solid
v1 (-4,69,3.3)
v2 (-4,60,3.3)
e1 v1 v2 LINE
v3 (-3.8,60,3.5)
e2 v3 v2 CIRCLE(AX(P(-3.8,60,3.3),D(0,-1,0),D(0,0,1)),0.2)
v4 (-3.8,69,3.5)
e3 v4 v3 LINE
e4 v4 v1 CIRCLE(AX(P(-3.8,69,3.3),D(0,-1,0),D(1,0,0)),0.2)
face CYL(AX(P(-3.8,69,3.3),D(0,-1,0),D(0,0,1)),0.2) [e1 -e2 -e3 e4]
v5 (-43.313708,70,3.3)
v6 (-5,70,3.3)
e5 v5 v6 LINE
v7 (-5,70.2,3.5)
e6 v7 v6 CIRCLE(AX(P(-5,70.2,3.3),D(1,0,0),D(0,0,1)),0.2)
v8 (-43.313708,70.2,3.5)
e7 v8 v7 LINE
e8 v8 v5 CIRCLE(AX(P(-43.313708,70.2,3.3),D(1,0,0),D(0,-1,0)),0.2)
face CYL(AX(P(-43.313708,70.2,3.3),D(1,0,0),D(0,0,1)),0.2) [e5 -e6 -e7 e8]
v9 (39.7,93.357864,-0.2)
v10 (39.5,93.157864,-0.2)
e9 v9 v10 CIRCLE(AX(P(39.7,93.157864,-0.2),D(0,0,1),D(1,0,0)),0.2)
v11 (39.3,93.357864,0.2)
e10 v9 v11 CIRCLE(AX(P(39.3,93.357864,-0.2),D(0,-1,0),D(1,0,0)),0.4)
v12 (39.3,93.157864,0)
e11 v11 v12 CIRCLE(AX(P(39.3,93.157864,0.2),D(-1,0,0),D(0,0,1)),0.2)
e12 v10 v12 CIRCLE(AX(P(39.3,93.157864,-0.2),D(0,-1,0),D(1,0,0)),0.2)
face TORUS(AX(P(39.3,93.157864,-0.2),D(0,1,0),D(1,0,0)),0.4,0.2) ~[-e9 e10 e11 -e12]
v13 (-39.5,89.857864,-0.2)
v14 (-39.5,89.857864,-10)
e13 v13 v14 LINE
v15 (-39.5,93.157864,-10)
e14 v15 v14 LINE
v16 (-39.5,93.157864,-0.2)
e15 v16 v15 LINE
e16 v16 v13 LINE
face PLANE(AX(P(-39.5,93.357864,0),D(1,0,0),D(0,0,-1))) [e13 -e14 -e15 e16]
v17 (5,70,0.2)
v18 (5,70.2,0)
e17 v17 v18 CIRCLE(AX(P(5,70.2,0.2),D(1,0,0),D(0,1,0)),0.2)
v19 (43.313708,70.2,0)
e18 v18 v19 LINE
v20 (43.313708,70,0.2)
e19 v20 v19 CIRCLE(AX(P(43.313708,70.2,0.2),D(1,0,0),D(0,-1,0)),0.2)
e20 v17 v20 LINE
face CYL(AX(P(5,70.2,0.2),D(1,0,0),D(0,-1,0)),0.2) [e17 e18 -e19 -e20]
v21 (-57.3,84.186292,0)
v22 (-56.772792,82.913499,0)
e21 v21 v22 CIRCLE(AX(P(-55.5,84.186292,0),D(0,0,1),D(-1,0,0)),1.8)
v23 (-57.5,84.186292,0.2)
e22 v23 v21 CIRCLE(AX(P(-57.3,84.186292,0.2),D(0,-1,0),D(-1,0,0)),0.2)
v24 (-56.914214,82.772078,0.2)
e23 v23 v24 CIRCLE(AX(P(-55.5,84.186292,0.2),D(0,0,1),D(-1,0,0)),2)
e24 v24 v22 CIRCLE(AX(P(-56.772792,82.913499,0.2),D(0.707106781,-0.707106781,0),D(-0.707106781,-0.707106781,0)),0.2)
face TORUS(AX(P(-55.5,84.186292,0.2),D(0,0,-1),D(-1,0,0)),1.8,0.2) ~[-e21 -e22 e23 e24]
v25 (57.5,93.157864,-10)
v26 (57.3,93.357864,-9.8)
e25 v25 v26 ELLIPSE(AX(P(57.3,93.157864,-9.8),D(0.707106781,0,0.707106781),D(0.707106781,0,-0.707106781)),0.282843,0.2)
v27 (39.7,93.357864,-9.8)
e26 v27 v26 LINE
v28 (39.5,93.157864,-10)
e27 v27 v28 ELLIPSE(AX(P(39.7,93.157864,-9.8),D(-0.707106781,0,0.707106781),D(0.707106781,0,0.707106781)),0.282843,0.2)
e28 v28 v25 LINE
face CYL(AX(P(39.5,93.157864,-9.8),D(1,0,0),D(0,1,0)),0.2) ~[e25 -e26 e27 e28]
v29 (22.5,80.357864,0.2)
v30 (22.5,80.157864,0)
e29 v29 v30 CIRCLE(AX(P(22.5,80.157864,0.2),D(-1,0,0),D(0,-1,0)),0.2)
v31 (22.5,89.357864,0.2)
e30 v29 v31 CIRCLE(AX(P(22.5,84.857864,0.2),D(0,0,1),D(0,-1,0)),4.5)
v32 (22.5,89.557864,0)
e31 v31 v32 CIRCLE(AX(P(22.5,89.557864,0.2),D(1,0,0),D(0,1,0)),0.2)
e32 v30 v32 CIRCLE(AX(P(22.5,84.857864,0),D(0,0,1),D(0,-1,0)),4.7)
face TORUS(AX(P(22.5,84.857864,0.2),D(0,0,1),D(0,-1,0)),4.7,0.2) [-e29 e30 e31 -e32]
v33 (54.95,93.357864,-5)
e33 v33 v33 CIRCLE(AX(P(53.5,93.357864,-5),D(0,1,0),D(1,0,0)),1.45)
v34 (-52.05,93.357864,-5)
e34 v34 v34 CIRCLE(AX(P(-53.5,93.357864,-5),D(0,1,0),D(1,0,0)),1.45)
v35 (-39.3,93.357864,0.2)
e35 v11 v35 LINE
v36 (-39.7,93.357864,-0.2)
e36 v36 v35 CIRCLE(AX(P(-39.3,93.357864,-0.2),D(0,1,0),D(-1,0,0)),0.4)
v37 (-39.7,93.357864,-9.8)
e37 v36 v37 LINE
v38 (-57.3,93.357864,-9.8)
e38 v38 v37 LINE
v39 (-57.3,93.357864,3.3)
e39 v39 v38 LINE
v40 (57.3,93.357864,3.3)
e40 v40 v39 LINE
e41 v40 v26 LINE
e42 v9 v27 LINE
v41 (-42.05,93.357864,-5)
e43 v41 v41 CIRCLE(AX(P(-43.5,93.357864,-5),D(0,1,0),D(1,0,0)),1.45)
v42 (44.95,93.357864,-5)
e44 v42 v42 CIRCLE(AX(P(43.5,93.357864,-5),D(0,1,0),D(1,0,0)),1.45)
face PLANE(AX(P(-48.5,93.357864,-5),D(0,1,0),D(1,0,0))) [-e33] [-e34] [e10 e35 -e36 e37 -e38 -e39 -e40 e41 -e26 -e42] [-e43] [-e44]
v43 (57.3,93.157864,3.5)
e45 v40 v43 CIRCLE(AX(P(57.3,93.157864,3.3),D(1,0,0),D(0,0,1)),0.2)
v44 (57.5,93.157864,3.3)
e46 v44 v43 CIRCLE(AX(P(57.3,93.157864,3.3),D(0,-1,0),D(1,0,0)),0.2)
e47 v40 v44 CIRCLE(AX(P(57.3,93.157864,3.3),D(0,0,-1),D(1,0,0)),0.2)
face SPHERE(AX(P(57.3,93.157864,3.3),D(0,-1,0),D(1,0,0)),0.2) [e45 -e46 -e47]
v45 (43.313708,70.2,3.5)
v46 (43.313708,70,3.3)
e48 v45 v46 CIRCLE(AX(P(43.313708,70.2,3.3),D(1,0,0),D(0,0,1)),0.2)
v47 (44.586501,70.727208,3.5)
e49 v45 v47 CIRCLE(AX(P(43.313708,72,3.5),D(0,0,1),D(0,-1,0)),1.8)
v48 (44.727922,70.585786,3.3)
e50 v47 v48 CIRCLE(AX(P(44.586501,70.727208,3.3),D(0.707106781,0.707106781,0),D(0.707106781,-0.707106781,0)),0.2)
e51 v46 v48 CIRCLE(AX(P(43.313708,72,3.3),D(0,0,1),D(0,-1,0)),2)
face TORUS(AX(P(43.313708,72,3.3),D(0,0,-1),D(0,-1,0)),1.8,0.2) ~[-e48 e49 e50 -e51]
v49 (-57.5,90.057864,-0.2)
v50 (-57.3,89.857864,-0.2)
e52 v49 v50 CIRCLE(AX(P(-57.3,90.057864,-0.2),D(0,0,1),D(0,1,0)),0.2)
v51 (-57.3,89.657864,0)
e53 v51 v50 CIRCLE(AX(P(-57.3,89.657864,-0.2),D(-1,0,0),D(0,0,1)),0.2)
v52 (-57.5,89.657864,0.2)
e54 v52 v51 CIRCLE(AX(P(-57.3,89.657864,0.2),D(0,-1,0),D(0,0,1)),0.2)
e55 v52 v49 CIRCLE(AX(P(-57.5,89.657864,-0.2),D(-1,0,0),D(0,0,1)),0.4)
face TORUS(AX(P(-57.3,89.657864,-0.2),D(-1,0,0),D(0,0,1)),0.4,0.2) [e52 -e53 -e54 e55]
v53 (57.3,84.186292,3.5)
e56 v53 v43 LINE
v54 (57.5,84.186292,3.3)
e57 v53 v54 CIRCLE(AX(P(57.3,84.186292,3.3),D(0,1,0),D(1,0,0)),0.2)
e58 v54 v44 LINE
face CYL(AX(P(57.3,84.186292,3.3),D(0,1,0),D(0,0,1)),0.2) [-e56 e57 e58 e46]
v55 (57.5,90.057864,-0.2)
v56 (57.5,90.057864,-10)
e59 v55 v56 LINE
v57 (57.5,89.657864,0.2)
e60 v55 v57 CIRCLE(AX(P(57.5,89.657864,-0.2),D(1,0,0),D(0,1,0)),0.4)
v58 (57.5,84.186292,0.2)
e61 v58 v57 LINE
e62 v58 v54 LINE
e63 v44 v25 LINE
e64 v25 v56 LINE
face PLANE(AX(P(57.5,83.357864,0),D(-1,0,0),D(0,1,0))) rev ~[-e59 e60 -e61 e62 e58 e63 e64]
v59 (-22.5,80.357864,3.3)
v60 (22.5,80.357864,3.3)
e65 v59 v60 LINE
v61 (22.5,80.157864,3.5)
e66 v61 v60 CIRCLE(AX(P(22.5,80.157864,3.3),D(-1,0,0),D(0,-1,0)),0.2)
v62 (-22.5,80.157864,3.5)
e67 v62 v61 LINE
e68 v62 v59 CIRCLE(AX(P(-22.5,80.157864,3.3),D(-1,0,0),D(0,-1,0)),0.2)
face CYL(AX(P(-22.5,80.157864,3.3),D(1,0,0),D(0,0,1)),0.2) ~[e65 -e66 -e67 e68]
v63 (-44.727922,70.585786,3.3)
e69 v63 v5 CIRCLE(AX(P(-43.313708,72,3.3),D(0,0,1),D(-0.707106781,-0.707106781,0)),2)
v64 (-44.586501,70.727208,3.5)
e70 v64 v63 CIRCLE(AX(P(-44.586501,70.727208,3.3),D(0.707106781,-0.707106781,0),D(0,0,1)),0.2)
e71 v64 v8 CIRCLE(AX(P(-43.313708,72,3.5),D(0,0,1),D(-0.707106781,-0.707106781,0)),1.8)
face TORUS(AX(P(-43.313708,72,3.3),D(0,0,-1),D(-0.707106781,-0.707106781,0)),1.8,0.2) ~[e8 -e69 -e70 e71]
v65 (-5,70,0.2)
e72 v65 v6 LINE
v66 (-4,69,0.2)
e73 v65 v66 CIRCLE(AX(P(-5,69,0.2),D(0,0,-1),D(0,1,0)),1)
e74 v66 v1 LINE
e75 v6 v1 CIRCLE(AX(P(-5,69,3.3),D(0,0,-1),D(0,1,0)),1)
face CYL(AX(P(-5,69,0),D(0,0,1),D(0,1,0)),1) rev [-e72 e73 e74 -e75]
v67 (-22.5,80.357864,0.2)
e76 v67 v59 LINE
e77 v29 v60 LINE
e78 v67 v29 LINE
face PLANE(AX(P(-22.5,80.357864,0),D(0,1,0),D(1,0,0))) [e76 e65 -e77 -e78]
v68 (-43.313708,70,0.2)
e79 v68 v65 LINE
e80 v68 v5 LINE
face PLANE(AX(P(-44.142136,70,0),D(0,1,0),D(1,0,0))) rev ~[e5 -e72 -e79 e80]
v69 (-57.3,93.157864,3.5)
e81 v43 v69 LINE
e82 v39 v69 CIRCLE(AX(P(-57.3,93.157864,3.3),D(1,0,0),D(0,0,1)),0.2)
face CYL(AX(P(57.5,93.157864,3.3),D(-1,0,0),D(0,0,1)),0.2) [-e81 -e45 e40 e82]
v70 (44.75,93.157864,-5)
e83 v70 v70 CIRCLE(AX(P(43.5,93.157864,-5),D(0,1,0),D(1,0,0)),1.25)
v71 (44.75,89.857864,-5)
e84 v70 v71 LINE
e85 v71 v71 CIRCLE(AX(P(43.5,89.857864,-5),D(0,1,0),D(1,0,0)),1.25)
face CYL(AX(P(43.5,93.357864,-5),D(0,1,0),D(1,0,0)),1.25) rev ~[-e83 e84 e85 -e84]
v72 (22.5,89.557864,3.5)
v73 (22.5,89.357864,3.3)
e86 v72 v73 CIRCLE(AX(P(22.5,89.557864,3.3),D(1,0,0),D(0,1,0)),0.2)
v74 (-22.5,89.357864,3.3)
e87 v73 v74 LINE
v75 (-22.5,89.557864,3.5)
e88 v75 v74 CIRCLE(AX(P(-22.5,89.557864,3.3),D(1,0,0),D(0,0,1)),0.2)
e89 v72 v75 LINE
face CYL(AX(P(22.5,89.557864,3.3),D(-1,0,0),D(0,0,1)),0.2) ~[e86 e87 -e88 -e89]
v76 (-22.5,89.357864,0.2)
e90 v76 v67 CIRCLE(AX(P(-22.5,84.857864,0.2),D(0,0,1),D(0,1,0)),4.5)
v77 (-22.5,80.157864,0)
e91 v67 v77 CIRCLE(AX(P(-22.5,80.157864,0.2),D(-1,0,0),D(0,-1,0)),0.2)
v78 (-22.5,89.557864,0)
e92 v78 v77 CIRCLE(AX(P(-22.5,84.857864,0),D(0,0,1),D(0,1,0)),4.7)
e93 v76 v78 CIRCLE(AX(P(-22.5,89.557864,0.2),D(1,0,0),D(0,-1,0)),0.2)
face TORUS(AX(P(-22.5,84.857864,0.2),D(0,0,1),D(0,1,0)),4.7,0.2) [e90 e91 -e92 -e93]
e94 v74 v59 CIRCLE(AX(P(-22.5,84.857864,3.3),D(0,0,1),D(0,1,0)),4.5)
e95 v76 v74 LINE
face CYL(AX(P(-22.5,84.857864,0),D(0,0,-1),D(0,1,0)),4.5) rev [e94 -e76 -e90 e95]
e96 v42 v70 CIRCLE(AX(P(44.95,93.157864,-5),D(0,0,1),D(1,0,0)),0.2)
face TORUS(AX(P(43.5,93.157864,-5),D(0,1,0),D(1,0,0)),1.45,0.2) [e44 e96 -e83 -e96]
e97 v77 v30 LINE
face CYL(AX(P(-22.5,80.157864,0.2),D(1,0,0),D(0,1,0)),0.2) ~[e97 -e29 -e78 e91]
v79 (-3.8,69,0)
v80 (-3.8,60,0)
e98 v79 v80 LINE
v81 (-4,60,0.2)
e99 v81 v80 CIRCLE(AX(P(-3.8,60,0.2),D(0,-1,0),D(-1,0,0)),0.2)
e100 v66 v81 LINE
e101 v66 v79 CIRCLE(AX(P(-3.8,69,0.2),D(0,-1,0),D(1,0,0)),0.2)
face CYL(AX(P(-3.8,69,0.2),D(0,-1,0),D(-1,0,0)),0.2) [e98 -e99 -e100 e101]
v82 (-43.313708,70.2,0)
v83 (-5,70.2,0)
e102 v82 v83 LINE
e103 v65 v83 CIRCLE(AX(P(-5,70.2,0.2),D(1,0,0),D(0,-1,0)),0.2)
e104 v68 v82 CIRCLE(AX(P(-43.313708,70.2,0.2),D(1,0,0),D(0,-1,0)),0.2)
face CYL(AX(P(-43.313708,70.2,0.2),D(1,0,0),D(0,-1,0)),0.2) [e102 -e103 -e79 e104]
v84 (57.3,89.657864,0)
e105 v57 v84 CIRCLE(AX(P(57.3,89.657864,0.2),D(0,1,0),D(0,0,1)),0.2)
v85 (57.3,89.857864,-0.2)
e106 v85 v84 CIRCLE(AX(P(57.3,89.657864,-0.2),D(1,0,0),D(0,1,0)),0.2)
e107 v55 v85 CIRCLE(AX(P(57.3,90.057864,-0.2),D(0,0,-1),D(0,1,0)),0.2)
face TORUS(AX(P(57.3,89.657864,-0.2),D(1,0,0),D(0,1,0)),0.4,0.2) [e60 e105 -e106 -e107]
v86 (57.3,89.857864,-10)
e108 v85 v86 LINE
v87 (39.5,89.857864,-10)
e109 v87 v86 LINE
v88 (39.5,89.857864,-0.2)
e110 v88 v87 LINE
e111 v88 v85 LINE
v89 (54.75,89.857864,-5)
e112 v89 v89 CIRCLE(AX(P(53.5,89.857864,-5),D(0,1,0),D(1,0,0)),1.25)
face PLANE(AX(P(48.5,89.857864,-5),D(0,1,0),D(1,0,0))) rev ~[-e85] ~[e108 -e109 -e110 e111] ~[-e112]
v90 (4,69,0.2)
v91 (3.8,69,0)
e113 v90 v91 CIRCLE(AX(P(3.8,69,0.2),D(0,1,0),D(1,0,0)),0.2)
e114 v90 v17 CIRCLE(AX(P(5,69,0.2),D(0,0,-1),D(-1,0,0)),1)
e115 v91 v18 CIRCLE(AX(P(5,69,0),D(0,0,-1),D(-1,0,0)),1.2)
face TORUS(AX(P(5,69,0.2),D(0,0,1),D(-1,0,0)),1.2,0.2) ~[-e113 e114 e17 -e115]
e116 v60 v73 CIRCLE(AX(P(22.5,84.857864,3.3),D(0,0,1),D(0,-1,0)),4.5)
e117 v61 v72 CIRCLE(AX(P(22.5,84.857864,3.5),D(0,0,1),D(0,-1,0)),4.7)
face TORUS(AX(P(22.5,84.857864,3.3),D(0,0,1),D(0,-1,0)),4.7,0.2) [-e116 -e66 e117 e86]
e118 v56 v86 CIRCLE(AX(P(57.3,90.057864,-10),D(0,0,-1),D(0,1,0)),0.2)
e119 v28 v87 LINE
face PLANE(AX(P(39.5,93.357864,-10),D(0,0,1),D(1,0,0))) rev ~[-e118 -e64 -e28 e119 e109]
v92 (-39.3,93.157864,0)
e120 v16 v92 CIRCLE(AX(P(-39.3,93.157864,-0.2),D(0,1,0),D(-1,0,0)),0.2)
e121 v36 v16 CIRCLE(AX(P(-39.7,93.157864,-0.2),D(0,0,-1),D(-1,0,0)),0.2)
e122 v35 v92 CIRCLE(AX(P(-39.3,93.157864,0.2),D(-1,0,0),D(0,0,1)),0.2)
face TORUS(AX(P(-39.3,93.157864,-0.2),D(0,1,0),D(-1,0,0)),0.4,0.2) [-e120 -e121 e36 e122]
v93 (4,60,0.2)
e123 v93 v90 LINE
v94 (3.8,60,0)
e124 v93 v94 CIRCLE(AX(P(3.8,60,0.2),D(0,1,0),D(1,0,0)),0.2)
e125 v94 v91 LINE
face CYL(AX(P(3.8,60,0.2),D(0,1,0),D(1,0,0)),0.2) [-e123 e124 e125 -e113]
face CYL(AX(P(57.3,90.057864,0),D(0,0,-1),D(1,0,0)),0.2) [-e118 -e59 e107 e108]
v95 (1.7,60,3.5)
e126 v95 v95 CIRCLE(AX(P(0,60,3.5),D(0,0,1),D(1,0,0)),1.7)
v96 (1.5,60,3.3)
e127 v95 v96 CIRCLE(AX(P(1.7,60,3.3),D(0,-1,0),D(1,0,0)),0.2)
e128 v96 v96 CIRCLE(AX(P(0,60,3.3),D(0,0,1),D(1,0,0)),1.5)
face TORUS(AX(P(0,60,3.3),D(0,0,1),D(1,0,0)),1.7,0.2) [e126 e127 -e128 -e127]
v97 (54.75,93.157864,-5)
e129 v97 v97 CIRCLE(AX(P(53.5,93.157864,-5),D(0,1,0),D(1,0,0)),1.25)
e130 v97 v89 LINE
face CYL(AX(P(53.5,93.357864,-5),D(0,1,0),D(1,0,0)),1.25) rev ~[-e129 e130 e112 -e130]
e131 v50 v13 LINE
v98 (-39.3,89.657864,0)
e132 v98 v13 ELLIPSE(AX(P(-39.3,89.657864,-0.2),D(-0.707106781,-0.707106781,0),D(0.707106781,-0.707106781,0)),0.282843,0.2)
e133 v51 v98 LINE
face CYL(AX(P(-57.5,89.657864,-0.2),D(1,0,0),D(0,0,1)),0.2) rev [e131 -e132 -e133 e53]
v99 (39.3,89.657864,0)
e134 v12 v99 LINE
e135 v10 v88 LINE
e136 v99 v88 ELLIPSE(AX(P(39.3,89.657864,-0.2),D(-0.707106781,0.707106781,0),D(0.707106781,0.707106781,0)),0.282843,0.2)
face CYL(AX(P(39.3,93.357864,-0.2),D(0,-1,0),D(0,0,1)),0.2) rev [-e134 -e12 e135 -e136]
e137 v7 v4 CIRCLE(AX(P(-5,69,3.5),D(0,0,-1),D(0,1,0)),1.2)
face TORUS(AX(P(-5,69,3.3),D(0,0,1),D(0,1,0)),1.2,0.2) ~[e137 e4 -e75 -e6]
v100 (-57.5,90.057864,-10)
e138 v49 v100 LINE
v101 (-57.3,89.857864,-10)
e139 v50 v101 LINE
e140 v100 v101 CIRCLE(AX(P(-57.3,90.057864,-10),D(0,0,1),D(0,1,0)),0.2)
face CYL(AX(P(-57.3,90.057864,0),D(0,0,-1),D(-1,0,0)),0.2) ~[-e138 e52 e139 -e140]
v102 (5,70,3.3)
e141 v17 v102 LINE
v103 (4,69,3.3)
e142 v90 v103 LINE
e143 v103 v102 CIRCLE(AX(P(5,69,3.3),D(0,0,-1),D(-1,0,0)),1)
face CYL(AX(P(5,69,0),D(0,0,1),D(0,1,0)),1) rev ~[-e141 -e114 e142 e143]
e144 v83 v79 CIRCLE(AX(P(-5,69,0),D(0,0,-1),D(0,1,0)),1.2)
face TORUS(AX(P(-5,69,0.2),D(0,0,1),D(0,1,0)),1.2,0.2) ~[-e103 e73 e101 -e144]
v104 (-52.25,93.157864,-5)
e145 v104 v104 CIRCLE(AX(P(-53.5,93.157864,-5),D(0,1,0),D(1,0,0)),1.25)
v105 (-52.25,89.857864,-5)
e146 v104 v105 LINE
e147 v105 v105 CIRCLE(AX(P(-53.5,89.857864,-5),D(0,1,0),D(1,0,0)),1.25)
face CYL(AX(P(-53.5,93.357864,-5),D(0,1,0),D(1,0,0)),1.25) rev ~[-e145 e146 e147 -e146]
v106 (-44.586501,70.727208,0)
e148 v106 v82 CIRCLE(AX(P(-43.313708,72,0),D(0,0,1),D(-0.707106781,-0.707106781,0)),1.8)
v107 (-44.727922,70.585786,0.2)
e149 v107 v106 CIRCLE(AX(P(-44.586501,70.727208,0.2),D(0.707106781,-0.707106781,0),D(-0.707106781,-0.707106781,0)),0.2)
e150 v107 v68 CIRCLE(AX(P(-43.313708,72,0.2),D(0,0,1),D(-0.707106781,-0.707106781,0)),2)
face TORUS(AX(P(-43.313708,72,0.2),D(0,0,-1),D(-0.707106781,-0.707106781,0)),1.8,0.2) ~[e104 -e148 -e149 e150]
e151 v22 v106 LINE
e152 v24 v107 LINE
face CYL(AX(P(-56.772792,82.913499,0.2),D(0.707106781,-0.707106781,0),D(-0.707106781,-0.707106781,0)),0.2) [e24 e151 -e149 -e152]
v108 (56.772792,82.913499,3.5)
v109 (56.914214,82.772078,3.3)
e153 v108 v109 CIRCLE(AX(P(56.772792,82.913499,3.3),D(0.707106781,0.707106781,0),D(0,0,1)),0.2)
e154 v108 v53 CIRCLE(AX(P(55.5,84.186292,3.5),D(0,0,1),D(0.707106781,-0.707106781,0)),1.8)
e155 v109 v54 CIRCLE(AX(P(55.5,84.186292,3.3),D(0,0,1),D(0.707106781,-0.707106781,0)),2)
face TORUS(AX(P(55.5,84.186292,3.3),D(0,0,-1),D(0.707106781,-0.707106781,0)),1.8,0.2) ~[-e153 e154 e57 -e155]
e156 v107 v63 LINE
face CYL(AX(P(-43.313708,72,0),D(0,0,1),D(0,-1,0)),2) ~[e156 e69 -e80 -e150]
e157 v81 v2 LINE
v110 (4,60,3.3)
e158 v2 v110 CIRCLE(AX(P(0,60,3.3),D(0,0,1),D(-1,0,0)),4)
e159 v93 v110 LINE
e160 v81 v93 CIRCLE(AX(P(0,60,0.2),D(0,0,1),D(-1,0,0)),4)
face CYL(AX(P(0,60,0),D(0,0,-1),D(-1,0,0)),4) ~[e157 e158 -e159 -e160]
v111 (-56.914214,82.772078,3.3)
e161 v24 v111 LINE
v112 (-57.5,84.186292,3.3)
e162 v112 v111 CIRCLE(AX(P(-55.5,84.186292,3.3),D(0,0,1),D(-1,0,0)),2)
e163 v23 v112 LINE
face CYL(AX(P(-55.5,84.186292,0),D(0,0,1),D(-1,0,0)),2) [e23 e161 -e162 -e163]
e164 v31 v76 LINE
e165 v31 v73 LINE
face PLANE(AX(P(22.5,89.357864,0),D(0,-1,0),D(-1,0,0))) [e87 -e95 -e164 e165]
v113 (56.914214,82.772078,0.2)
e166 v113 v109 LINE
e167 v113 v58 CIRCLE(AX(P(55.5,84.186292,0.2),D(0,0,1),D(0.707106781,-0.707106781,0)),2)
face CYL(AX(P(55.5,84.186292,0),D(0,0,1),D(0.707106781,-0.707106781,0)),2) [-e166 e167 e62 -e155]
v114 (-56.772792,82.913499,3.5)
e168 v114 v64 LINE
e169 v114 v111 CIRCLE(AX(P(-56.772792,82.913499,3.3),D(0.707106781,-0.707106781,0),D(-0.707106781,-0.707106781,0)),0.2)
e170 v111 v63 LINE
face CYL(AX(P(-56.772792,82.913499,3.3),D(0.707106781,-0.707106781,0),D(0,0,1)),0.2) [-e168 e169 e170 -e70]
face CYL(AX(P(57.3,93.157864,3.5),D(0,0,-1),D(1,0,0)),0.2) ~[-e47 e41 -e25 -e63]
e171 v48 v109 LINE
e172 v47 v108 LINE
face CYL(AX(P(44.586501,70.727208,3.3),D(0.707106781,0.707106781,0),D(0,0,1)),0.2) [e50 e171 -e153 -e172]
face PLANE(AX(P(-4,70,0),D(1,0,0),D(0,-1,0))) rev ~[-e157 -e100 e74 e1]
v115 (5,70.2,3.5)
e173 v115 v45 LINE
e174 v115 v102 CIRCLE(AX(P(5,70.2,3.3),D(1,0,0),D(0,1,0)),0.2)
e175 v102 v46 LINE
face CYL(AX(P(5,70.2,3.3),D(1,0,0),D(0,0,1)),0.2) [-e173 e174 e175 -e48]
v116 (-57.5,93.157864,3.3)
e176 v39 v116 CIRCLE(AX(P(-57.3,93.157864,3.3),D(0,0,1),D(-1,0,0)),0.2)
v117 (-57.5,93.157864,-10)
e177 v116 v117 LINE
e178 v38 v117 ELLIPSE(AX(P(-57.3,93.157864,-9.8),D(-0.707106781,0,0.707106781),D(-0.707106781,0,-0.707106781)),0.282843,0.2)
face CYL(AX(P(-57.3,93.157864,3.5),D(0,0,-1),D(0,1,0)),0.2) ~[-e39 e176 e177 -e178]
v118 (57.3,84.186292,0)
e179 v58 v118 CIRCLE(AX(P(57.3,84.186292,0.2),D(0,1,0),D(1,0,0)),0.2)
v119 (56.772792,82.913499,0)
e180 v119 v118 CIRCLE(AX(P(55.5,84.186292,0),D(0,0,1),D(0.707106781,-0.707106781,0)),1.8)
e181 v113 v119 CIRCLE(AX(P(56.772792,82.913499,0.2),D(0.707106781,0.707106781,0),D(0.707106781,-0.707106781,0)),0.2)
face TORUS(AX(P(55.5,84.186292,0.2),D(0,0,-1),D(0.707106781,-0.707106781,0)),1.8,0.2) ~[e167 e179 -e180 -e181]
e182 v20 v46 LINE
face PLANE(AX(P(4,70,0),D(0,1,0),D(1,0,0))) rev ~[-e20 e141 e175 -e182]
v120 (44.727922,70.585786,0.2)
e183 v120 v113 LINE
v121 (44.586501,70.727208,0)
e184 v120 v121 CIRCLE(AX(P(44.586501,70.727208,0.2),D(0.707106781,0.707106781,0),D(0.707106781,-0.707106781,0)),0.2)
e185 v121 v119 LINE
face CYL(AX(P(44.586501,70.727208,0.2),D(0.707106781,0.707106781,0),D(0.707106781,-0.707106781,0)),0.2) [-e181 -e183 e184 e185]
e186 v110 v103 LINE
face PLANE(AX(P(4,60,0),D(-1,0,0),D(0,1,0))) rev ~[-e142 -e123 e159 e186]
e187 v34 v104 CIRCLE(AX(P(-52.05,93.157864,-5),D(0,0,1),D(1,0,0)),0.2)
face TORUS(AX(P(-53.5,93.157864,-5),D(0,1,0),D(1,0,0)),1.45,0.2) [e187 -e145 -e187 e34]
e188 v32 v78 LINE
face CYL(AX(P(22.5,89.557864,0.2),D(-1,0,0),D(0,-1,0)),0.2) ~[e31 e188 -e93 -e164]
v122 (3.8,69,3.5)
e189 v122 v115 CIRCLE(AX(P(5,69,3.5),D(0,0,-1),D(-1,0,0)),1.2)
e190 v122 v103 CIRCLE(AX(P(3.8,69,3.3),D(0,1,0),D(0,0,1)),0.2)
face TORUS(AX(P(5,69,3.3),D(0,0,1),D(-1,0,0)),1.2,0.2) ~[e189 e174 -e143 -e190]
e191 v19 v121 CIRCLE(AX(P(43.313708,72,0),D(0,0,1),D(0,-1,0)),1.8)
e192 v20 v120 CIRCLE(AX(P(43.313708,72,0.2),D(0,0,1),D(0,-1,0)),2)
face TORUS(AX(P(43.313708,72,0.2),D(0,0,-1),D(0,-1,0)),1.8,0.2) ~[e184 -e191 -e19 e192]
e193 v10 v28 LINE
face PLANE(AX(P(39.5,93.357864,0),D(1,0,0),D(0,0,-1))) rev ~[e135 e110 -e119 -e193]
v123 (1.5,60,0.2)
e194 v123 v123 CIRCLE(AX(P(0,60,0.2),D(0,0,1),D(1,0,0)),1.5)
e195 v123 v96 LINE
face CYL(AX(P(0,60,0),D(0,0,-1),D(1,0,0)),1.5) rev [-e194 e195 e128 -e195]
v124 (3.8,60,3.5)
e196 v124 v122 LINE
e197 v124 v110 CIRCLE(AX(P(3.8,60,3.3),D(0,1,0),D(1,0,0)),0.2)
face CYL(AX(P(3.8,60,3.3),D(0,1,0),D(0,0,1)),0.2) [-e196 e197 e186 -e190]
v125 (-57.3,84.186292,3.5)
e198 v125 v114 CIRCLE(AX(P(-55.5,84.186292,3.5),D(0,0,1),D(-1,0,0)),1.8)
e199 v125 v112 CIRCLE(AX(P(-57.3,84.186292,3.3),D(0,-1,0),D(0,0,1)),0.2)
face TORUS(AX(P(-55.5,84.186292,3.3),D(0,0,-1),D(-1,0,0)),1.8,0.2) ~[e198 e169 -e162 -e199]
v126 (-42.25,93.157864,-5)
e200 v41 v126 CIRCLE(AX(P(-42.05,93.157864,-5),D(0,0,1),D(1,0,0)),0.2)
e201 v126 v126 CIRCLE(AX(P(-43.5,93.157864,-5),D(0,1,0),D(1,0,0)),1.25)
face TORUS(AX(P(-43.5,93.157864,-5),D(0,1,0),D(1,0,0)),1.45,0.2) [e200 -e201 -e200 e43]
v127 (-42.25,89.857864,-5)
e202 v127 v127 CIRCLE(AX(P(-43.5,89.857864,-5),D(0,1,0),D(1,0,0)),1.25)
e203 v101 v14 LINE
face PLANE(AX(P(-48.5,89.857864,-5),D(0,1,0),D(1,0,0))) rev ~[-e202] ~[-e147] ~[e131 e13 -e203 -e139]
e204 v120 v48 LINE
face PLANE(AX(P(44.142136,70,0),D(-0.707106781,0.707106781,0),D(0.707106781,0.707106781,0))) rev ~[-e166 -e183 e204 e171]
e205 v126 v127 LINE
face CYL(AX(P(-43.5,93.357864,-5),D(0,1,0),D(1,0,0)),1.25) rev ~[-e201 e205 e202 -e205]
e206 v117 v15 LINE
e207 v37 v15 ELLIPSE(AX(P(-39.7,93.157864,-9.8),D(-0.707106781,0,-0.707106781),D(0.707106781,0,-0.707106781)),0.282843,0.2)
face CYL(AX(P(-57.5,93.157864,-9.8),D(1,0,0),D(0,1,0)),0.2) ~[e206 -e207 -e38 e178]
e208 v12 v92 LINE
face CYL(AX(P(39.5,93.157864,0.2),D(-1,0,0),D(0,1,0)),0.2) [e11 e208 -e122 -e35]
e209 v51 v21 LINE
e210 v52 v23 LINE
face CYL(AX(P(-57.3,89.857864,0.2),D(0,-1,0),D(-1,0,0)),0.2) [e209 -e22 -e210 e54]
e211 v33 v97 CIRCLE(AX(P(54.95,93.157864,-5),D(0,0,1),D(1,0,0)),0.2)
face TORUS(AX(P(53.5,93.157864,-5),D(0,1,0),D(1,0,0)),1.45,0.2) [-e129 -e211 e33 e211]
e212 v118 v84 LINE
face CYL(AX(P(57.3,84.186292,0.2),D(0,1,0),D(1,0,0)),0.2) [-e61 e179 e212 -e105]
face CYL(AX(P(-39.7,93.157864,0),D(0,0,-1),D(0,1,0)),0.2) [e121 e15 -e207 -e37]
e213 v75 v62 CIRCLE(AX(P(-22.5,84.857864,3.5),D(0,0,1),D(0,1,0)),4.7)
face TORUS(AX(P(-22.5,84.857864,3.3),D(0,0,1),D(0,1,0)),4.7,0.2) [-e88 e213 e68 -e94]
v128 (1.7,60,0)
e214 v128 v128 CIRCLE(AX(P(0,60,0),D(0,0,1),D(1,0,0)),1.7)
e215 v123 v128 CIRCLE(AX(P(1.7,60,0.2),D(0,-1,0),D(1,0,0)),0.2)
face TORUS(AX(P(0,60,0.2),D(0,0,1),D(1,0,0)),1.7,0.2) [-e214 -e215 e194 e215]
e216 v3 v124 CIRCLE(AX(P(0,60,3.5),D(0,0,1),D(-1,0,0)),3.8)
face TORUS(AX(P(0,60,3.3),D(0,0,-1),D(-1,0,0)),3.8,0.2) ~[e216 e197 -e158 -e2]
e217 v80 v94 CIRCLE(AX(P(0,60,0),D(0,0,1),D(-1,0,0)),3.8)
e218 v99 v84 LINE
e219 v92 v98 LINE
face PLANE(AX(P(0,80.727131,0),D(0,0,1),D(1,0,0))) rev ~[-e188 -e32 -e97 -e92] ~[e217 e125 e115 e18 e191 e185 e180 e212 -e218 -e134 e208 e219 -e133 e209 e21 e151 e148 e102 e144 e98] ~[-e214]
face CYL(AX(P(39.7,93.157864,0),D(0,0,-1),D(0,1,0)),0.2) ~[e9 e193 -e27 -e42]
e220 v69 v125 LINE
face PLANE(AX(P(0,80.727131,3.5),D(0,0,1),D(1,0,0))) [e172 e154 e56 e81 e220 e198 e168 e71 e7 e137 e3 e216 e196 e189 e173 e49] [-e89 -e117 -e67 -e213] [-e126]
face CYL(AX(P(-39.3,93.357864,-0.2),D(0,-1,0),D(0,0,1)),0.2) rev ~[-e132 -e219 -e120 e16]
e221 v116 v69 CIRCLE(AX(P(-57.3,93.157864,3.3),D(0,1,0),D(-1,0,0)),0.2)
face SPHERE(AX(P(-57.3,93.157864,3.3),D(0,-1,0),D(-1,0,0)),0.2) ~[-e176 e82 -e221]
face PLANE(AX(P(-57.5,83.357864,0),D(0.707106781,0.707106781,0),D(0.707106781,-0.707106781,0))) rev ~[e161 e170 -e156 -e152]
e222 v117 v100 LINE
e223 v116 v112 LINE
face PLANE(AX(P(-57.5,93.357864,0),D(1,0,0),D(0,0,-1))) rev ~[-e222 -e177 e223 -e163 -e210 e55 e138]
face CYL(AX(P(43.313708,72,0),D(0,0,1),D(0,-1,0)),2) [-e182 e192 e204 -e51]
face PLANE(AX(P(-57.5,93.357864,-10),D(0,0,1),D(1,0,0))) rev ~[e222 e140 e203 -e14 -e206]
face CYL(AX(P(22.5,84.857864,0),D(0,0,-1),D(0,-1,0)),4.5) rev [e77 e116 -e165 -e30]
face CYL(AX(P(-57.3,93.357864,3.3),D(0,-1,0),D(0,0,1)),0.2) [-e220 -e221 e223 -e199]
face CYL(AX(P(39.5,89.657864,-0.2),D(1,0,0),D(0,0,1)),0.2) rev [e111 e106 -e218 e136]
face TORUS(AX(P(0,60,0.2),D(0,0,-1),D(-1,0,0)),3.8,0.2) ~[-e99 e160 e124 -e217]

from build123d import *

# Parameters (mm, degrees)
SKETCH5_R           = 1.5
BOSS_EXTRUDE1_DEPTH = 3.5
SKETCH6_W           = 18
SKETCH6_H           = 10
SKETCH6_R           = 1.25
BOSS_EXTRUDE2_DEPTH = 3.5
FILLET1_R           = 2
FILLET2_R           = 1
FILLET3_R           = 0.2


with BuildPart() as part:
    # Sketch5 → Boss-Extrude1 (new body)
    with BuildSketch(Plane.XY):
        with BuildLine():
            Line((57.5, 93.357864376), (-57.5, 93.357864376))
            Line((-57.5, 93.357864376), (-57.5, 83.357864376))
            Line((-57.5, 83.357864376), (-44.142135624, 70))
            Line((-44.142135624, 70), (-4, 70))
            Line((-4, 70), (-4, 60))
            ThreePointArc((-4, 60), (0, 56), (4, 60))
            Line((4, 60), (4, 70))
            Line((4, 70), (44.142135624, 70))
            Line((44.142135624, 70), (57.5, 83.357864376))
            Line((57.5, 83.357864376), (57.5, 93.357864376))
        make_face()
        with Locations((0, 60)):
            Circle(SKETCH5_R, mode=Mode.SUBTRACT)
        with BuildLine():
            Line((-22.5, 80.357864376), (22.5, 80.357864376))
            ThreePointArc((22.5, 80.357864376), (27, 84.857864376), (22.5, 89.357864376))
            Line((22.5, 89.357864376), (-22.5, 89.357864376))
            ThreePointArc((-22.5, 89.357864376), (-27, 84.857864376), (-22.5, 80.357864376))
        make_face(mode=Mode.SUBTRACT)
    extrude(amount=BOSS_EXTRUDE1_DEPTH)

    # Sketch6 → Boss-Extrude2 (add)
    with BuildSketch(Plane(origin=(0, 93.357864376, 0), x_dir=(1, 0, 0), z_dir=(0, 1, 0))):
        with Locations((-48.5, 5)):
            Rectangle(SKETCH6_W, SKETCH6_H)
        with Locations((-43.5, 5)):
            Circle(SKETCH6_R, mode=Mode.SUBTRACT)
        with Locations((-53.5, 5)):
            Circle(SKETCH6_R, mode=Mode.SUBTRACT)
        with Locations((48.5, 5)):
            Rectangle(SKETCH6_W, SKETCH6_H)
        with Locations((53.5, 5)):
            Circle(SKETCH6_R, mode=Mode.SUBTRACT)
        with Locations((43.5, 5)):
            Circle(SKETCH6_R, mode=Mode.SUBTRACT)
    extrude(amount=-BOSS_EXTRUDE2_DEPTH)

    # Fillet1
    fillet1_edges = [part.edges().sort_by_distance(p)[0] for p in [
        (57.5, 83.357864376, 1.75),
        (44.142135624, 70, 1.75),
        (-44.142135624, 70, 1.75),
        (-57.5, 83.357864376, 1.75),
    ]]
    fillet(fillet1_edges, radius=FILLET1_R)

    # Fillet2
    fillet2_edges = [part.edges().sort_by_distance(p)[0] for p in [
        (4, 70, 1.75),
        (-4, 70, 1.75),
    ]]
    fillet(fillet2_edges, radius=FILLET2_R)

    # Fillet3
    fillet3_edges = [part.edges().sort_by_distance(p)[0] for p in [
        (24.156854249, 70, 0),
        (24.156854249, 70, 3.5),
        (-4, 64.5, 0),
        (-4, 64.5, 3.5),
        (4.292893219, 69.707106781, 0),
        (4.292893219, 69.707106781, 3.5),
        (-4.292893219, 69.707106781, 0),
        (-4.292893219, 69.707106781, 3.5),
        (4, 64.5, 0),
        (0, 56, 0),
        (0, 56, 3.5),
        (-57.5, 93.357864376, -3.25),
        (57.5, 93.357864376, -3.25),
        (4, 64.5, 3.5),
        (-1.5, 60, 0),
        (-1.5, 60, 3.5),
        (0, 93.357864376, 3.5),
        (27, 84.857864376, 0),
        (0, 89.357864376, 0),
        (-27, 84.857864376, 0),
        (0, 80.357864376, 0),
        (27, 84.857864376, 3.5),
        (0, 89.357864376, 3.5),
        (-27, 84.857864376, 3.5),
        (0, 80.357864376, 3.5),
        (-57.5, 88.772077939, 3.5),
        (-57.5, 87.022077939, 0),
        (-57.5, 89.857864376, -5),
        (-48.5, 89.857864376, 0),
        (-39.5, 91.607864376, 0),
        (-39.5, 93.357864376, -5),
        (-48.5, 93.357864376, -10),
        (-44.75, 93.357864376, -5),
        (-54.75, 93.357864376, -5),
        (0, 93.357864376, 0),
        (48.5, 89.857864376, 0),
        (39.5, 91.607864376, 0),
        (57.5, 89.857864376, -5),
        (48.5, 93.357864376, -10),
        (39.5, 93.357864376, -5),
        (52.25, 93.357864376, -5),
        (42.25, 93.357864376, -5),
        (57.5, 87.022077939, 0),
        (57.5, 88.772077939, 3.5),
        (50.821067812, 76.678932188, 0),
        (-24.156854249, 70, 0),
        (-50.821067812, 76.678932188, 0),
        (-57.347759065, 83.420924636, 0),
        (-44.079075364, 70.152240935, 0),
        (44.079075364, 70.152240935, 0),
        (57.347759065, 83.420924636, 0),
        (50.821067812, 76.678932188, 3.5),
        (-50.821067812, 76.678932188, 3.5),
        (-24.156854249, 70, 3.5),
        (-57.347759065, 83.420924636, 3.5),
        (-44.079075364, 70.152240935, 3.5),
        (44.079075364, 70.152240935, 3.5),
        (57.347759065, 83.420924636, 3.5),
    ]]
    fillet(fillet3_edges, radius=FILLET3_R)


solid = part.part
